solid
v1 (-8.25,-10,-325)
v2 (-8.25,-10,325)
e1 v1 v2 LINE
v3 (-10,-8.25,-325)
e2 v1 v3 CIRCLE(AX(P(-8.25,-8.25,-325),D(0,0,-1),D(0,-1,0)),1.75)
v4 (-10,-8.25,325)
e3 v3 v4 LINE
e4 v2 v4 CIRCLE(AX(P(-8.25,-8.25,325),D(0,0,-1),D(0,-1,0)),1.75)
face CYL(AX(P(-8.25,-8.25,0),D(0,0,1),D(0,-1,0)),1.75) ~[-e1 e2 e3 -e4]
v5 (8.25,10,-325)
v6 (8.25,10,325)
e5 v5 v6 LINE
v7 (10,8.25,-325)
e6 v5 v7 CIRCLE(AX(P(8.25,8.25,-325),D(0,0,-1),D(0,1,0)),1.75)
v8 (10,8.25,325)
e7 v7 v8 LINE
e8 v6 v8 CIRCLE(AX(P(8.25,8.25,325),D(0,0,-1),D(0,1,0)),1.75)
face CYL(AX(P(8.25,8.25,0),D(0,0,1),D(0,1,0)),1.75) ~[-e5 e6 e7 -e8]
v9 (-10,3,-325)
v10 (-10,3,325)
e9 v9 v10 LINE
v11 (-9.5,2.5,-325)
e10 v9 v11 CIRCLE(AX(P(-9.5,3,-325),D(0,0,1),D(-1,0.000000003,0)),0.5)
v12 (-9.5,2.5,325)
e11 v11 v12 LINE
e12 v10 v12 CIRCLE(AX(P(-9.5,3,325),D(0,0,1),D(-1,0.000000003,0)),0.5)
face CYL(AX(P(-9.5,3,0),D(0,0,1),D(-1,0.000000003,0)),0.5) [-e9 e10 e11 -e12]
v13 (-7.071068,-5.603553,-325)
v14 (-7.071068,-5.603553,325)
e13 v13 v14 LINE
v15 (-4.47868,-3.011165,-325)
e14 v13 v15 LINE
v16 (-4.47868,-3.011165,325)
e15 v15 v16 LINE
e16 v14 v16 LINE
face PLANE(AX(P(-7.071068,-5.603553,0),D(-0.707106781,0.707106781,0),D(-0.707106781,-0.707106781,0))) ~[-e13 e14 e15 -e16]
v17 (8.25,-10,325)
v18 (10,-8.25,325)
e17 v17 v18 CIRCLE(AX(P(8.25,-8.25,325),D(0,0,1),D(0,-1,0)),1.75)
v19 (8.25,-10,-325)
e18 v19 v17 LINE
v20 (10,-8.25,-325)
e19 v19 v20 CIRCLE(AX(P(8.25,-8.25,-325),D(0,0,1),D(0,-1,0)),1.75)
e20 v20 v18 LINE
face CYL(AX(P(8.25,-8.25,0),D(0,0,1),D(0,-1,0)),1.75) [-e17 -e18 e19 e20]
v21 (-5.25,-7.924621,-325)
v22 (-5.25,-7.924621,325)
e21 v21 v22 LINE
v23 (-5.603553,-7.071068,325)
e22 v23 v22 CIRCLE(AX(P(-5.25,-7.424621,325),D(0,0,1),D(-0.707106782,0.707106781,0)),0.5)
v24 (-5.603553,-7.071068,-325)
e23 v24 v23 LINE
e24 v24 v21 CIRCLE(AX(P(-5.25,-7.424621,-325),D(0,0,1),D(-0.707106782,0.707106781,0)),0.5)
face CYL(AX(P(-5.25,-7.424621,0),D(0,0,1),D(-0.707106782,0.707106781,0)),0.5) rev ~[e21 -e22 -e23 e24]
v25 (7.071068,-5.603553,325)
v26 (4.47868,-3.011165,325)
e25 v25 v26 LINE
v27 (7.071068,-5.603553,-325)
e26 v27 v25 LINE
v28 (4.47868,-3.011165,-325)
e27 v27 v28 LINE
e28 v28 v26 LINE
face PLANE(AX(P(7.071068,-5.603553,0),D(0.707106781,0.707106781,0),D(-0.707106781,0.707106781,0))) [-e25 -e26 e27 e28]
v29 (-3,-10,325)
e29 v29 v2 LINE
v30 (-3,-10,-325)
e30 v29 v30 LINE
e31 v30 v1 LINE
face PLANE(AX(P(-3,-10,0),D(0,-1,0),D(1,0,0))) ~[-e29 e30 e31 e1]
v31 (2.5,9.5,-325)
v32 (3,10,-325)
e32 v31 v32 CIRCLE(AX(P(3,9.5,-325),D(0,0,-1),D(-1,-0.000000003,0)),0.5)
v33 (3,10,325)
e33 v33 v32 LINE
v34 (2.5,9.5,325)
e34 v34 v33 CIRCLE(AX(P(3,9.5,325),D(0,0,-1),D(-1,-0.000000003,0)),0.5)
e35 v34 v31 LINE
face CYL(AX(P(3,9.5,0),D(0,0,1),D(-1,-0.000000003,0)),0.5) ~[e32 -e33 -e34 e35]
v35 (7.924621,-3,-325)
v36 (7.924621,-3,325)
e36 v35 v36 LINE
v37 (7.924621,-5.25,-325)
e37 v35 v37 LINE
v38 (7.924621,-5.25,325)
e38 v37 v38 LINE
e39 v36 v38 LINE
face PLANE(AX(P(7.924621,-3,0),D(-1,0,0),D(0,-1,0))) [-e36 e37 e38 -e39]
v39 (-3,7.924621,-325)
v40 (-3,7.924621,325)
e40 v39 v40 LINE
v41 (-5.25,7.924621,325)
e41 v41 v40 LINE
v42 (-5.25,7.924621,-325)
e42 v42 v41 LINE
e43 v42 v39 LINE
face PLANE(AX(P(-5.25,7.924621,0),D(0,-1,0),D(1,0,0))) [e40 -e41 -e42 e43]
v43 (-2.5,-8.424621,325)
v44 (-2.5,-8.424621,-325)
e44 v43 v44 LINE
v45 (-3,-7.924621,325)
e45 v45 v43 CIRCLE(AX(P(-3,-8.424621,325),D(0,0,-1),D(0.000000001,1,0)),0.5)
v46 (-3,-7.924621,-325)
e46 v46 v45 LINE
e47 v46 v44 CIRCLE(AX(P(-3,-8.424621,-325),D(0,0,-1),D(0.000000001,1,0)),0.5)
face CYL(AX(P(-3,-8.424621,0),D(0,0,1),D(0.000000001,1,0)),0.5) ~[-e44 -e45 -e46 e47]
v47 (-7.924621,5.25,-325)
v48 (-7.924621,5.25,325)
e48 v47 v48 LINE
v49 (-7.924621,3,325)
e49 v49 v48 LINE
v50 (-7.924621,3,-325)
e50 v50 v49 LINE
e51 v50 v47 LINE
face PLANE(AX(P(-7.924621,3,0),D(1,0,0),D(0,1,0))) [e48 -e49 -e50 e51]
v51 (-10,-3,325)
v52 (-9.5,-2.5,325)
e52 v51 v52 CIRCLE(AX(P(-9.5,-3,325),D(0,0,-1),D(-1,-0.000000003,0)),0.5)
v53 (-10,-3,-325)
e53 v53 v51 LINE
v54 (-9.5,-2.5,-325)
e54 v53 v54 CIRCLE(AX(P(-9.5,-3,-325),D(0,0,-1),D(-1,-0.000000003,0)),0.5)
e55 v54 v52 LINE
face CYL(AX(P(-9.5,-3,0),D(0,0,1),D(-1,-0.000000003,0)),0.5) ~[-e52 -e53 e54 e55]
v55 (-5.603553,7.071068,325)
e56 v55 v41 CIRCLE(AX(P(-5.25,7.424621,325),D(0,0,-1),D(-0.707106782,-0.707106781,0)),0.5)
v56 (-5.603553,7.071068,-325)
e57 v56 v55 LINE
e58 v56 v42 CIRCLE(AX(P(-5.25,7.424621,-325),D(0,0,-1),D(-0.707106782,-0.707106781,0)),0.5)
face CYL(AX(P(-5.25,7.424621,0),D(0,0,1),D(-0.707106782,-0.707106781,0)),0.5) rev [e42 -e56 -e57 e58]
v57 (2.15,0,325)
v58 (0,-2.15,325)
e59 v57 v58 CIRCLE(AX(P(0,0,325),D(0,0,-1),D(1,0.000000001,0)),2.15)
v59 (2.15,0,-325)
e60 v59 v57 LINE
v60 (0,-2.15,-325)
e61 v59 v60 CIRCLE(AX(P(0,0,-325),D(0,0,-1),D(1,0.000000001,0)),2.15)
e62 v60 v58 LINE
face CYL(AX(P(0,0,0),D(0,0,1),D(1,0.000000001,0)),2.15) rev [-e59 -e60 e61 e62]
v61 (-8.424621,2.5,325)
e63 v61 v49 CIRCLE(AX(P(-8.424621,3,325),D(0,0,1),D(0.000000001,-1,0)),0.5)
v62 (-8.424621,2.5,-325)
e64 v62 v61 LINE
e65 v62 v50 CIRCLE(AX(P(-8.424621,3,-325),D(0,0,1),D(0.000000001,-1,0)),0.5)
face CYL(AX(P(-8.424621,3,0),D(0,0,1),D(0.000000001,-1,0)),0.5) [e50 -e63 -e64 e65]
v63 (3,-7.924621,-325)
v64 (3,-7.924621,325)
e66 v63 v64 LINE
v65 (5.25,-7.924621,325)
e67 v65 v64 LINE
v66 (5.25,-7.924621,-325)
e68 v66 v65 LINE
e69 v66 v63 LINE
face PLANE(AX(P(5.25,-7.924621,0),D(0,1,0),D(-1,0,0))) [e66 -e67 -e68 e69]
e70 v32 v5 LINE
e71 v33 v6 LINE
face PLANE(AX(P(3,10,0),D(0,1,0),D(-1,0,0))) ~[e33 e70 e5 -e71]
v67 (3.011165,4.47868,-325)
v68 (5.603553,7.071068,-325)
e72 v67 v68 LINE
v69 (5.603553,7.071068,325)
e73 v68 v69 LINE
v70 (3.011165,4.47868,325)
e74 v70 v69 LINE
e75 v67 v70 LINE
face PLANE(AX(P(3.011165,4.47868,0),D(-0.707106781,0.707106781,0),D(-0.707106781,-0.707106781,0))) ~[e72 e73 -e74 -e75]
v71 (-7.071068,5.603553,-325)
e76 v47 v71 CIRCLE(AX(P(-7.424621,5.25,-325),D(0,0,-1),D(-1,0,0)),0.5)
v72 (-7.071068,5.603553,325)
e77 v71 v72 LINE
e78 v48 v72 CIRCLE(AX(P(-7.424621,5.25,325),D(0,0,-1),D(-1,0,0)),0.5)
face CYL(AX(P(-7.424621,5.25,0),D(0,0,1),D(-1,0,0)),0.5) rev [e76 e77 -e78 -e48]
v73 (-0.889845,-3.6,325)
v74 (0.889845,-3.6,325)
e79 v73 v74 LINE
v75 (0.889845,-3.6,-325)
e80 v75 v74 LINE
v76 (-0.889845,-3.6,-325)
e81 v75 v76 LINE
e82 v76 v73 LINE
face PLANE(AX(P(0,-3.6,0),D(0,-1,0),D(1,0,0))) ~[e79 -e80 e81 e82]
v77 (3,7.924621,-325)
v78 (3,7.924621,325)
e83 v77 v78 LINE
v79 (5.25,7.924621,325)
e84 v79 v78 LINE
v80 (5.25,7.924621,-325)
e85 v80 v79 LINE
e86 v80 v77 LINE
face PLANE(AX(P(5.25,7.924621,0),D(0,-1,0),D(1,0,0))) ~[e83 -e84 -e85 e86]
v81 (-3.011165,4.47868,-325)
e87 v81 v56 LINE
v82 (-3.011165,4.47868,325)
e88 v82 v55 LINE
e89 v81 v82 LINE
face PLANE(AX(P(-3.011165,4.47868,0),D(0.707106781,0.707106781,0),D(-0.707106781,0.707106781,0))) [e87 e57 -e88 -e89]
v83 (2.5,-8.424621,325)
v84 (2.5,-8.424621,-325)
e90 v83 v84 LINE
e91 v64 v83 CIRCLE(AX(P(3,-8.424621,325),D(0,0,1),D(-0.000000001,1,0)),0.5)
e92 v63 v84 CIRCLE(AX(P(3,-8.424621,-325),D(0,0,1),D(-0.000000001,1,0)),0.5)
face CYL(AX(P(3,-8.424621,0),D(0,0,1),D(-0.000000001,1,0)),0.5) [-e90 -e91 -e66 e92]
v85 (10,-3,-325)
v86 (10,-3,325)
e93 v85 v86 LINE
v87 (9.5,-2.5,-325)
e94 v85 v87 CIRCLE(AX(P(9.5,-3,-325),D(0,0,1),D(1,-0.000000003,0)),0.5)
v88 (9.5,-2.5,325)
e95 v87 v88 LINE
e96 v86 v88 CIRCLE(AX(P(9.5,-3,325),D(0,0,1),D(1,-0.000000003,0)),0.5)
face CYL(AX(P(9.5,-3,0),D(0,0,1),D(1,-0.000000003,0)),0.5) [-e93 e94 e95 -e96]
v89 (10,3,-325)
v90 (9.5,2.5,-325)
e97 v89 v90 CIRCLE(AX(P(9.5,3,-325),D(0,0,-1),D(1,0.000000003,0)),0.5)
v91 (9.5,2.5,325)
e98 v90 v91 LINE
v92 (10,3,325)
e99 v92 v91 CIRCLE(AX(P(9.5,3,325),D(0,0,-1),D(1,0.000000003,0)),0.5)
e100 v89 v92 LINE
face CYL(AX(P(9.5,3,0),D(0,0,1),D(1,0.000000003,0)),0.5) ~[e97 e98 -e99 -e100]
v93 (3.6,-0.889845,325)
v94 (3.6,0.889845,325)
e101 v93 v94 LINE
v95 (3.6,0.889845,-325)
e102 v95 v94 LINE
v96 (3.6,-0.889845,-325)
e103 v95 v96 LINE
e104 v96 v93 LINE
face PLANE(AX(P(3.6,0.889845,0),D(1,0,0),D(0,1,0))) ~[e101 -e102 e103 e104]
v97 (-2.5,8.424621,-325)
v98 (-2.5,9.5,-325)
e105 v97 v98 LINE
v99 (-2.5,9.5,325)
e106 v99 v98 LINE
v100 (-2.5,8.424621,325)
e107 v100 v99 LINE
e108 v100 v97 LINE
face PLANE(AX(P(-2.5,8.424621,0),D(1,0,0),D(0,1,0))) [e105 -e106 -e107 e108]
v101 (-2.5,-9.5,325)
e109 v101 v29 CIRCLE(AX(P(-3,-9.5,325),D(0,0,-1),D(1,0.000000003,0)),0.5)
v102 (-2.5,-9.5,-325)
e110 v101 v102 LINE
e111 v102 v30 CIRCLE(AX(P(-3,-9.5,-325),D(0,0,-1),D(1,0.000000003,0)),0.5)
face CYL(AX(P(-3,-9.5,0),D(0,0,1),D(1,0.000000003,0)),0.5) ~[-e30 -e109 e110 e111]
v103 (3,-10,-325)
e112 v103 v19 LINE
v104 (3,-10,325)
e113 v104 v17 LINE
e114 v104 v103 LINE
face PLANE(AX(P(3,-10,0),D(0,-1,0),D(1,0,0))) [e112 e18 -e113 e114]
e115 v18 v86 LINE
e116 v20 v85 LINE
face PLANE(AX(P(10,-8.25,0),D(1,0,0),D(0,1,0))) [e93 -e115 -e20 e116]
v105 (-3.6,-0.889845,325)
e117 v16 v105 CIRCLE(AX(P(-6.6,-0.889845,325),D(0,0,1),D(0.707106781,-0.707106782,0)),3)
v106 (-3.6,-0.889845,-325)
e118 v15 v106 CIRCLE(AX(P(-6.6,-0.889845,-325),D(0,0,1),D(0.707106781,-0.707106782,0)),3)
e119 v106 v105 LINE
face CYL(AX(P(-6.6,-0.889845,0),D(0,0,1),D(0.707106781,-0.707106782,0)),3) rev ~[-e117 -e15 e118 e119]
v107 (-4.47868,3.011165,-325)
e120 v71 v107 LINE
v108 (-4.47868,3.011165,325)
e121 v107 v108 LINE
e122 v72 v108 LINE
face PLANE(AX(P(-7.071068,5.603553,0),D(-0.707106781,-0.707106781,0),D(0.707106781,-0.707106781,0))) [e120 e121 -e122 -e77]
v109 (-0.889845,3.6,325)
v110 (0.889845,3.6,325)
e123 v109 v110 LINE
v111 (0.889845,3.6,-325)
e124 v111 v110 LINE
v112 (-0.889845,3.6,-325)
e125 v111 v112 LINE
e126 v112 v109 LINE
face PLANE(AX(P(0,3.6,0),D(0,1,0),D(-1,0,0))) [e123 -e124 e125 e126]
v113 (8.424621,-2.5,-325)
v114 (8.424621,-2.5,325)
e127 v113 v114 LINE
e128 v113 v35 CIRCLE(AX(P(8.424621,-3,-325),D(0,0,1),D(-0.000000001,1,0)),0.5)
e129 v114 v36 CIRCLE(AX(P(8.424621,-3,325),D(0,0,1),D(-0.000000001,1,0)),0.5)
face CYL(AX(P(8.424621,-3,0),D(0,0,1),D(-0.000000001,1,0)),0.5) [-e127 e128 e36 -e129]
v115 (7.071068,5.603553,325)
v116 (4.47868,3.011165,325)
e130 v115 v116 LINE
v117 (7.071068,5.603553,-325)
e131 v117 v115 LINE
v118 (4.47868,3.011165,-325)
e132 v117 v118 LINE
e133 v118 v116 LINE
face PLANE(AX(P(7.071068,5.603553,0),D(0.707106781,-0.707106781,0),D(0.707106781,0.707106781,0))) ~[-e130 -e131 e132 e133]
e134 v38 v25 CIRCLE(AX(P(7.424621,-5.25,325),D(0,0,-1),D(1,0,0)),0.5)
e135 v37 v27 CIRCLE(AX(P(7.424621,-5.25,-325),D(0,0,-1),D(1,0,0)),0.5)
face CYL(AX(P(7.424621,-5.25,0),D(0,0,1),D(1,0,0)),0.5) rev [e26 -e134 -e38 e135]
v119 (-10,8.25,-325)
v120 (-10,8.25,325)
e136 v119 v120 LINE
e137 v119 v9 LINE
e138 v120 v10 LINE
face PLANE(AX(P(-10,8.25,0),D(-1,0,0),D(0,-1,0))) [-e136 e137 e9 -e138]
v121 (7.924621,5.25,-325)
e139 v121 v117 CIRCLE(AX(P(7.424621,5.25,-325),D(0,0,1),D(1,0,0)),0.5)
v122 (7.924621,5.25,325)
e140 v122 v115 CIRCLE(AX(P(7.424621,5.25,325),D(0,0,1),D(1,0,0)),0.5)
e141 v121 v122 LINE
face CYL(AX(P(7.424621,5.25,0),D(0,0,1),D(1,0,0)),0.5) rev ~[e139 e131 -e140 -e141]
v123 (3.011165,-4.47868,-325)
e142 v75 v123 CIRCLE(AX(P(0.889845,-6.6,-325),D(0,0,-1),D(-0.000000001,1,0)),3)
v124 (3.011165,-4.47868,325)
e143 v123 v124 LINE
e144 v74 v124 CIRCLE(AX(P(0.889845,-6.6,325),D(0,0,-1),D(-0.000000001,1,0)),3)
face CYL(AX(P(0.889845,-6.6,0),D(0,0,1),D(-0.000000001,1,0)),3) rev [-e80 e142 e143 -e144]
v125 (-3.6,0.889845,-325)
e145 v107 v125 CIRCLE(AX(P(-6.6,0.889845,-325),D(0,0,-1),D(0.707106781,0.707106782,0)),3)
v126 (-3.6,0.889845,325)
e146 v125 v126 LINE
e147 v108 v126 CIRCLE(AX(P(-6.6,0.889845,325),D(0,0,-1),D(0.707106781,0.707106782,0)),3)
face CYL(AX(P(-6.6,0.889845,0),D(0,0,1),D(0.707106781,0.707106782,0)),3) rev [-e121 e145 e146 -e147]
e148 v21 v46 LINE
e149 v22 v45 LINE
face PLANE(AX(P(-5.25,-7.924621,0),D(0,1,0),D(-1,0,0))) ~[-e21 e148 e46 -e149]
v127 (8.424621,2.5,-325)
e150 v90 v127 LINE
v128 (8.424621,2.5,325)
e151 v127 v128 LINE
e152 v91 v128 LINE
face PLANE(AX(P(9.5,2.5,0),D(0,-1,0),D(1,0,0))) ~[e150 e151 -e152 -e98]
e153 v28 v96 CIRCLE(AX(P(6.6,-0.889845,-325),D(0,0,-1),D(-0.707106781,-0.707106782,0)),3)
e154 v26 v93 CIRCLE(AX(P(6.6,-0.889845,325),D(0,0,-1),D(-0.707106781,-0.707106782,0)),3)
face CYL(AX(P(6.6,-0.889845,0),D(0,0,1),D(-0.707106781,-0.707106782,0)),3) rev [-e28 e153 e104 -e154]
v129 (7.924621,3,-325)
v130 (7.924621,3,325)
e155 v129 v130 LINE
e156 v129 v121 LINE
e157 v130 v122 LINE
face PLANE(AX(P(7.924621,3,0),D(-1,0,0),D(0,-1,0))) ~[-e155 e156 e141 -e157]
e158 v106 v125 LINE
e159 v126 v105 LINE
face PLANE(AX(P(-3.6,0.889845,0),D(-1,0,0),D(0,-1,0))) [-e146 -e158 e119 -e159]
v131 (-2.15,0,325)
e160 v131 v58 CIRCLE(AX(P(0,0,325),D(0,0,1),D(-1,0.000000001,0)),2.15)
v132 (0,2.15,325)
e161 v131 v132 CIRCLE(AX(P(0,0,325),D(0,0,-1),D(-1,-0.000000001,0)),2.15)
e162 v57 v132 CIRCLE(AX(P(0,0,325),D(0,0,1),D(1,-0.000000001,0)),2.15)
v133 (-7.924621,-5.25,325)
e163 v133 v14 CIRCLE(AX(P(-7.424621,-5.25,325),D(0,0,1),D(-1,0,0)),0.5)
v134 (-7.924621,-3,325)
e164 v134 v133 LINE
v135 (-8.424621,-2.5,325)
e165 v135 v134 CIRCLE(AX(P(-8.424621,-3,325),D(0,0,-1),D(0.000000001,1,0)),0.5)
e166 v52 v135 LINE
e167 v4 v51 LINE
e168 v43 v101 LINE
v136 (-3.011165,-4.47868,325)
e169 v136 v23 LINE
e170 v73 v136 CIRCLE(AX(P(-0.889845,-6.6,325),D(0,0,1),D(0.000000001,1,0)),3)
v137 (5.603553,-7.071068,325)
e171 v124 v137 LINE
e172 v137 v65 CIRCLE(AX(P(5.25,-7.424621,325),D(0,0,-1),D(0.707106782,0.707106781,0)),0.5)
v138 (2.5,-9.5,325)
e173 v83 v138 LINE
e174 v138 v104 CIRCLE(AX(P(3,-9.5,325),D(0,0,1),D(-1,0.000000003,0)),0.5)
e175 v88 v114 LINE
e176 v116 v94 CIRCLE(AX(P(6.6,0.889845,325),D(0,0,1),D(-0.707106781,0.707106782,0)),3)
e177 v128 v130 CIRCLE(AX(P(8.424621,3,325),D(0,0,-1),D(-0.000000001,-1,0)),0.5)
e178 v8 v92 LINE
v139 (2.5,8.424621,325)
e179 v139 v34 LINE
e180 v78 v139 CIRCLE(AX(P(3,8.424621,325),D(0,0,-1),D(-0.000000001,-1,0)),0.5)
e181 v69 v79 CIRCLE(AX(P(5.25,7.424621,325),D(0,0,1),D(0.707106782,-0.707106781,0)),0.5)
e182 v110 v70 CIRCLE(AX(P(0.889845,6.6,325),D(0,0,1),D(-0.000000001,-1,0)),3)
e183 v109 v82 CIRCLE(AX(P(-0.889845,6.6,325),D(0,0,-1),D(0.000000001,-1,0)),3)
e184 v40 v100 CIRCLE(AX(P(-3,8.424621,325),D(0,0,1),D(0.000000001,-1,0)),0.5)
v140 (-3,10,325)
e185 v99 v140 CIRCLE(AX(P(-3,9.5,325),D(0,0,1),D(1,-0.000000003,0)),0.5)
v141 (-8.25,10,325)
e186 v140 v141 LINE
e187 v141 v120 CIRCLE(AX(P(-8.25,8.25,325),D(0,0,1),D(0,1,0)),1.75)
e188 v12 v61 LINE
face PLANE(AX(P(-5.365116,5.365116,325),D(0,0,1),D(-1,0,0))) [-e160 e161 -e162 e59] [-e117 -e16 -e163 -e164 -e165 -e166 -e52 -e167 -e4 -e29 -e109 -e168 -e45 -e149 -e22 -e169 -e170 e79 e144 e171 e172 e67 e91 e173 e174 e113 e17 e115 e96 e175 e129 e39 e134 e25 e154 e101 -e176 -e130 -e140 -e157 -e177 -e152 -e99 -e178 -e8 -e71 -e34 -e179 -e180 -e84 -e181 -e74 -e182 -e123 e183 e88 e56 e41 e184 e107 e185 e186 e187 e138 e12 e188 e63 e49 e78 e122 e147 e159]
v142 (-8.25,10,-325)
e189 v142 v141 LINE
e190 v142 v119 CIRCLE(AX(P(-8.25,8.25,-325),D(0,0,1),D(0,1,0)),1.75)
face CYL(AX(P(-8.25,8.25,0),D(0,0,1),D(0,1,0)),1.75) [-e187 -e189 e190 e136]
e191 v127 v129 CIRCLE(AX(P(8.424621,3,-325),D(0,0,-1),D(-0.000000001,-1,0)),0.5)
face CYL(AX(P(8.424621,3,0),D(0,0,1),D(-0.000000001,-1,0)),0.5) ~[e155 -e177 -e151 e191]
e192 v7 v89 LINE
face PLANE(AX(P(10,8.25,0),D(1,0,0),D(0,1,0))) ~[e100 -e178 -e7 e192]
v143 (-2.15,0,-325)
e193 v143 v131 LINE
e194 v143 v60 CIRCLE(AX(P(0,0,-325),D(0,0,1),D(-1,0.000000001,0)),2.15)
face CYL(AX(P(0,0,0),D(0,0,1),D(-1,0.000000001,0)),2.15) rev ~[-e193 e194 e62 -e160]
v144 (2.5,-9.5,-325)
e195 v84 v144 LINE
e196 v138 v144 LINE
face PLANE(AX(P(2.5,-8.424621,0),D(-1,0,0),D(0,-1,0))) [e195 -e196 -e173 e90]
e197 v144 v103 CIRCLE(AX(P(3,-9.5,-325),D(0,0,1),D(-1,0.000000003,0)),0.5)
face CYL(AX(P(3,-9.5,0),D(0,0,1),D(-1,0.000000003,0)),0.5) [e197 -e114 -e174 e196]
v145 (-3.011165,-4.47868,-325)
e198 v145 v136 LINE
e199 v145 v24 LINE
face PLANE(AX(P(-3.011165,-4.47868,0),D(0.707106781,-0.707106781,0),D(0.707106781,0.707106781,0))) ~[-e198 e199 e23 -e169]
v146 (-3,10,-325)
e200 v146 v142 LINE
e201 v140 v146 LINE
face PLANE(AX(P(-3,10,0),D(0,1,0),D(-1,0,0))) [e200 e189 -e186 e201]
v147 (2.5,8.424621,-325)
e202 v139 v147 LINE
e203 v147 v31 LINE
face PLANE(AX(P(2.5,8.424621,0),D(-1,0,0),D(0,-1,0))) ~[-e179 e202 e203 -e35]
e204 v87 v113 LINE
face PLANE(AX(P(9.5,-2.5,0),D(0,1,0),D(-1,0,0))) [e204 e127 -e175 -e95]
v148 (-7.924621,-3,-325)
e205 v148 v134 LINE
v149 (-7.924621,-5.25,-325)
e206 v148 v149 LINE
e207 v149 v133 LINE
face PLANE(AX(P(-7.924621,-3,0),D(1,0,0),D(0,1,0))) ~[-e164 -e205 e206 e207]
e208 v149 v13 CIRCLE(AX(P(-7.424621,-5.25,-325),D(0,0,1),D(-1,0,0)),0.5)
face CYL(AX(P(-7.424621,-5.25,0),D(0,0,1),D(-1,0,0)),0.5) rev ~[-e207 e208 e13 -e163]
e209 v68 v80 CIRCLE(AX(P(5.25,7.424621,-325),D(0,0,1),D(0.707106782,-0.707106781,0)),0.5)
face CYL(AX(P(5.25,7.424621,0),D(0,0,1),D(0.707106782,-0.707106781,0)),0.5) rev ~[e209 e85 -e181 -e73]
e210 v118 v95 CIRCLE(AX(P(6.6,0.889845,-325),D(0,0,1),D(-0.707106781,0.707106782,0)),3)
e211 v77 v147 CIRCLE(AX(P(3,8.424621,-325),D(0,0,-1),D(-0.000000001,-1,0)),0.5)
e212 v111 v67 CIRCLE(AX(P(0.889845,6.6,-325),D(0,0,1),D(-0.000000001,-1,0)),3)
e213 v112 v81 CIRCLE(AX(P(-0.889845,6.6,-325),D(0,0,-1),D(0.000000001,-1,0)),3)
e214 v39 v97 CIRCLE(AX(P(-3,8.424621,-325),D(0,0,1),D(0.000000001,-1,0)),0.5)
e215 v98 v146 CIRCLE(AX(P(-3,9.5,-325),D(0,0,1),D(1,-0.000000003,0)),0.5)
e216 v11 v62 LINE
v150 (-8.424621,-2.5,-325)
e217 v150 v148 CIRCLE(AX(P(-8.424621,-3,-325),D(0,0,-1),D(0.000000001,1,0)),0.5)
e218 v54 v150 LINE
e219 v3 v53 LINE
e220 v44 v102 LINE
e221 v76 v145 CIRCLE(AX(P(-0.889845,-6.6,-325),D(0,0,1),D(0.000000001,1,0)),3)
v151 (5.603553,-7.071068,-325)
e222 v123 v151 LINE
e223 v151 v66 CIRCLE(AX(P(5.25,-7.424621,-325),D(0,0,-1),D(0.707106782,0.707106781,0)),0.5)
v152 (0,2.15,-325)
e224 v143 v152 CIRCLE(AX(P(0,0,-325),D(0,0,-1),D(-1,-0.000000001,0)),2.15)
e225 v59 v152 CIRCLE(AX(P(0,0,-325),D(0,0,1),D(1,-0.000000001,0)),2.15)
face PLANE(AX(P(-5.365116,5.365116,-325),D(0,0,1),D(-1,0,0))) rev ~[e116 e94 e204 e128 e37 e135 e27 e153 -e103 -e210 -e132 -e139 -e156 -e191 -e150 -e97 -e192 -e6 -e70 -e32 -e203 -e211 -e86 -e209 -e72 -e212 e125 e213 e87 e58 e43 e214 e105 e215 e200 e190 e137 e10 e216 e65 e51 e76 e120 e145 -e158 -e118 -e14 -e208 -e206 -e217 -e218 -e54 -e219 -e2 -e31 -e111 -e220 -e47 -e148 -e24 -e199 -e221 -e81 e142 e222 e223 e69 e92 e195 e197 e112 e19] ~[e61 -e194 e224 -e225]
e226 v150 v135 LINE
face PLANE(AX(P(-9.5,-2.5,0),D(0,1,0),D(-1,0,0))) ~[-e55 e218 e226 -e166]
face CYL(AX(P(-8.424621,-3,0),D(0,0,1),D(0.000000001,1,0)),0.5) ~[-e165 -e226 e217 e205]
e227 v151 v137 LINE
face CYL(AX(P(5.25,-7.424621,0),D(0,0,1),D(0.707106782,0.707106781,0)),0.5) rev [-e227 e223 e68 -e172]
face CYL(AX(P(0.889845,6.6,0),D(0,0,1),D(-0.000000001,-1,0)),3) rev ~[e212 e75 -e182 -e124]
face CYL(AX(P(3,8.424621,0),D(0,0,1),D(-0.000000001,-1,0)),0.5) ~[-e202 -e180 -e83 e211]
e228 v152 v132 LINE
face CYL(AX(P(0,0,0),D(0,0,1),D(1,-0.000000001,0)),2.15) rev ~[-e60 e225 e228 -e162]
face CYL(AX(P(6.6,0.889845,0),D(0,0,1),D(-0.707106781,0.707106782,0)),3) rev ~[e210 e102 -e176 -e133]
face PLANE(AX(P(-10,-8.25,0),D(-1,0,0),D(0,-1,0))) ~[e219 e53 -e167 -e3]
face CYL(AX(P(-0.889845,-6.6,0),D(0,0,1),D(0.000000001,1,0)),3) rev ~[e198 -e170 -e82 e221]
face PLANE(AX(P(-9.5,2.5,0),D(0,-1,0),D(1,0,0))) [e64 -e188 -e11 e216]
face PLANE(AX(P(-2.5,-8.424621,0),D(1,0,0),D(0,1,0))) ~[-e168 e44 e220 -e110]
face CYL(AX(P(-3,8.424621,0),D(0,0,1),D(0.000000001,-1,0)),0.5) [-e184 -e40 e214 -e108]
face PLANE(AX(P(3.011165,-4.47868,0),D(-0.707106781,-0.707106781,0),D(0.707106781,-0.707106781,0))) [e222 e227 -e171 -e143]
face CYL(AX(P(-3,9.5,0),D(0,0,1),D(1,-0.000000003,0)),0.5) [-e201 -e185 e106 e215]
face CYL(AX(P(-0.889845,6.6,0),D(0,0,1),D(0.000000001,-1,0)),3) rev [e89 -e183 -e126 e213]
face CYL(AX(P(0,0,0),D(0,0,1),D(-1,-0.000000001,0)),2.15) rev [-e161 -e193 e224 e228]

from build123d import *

# Parameters (mm, degrees)
BOSS_EXTRUDE1_DEPTH = 325


with BuildPart() as part:
    # Sketch4 → Boss-Extrude1 (new, symmetric)
    with BuildSketch(Plane.XY):
        with BuildLine():
            Line((3, -10), (8.25, -10))
            ThreePointArc((8.25, -10), (9.487436867, -9.487436867), (10, -8.25))
            Line((10, -8.25), (10, -3))
            ThreePointArc((10, -3), (9.853553391, -2.646446609), (9.5, -2.5))
            Line((9.5, -2.5), (8.424621202, -2.5))
            ThreePointArc((8.424621202, -2.5), (8.071067812, -2.646446609), (7.924621202, -3))
            Line((7.924621202, -3), (7.924621202, -5.25))
            ThreePointArc((7.924621202, -5.25), (7.615962919, -5.711939766), (7.071067812, -5.603553391))
            Line((7.071067812, -5.603553391), (4.478679656, -3.011165235))
            ThreePointArc((4.478679656, -3.011165235), (3.828361402, -2.037895189), (3.6, -0.889844892))
            Line((3.6, -0.889844892), (3.6, 0))
            Line((3.6, 0), (2.15, 0))
            ThreePointArc((2.15, 0), (1.52027958, -1.52027958), (0, -2.15))
            Line((0, -2.15), (0, -3.6))
            Line((0, -3.6), (0.889844892, -3.6))
            ThreePointArc((0.889844892, -3.6), (2.037895189, -3.828361402), (3.011165235, -4.478679656))
            Line((3.011165235, -4.478679656), (5.603553391, -7.071067812))
            ThreePointArc((5.603553391, -7.071067812), (5.711939766, -7.615962919), (5.25, -7.924621202))
            Line((5.25, -7.924621202), (3, -7.924621202))
            ThreePointArc((3, -7.924621202), (2.646446609, -8.071067812), (2.5, -8.424621202))
            Line((2.5, -8.424621202), (2.5, -9.5))
            ThreePointArc((2.5, -9.5), (2.646446609, -9.853553391), (3, -10))
        make_face()
    extrude(amount=BOSS_EXTRUDE1_DEPTH, both=True)

    # Mirror1: part across plane


with BuildPart() as part_1:
    add(part.part)
    add(part.part.mirror(Plane(origin=(0, 0, 0), x_dir=(0, 0, 1), z_dir=(1, 0, 0))))

    # Mirror2: part across plane


with BuildPart() as part_2:
    add(part_1.part)
    add(part_1.part.mirror(Plane.ZX))


solid = part_2.part
